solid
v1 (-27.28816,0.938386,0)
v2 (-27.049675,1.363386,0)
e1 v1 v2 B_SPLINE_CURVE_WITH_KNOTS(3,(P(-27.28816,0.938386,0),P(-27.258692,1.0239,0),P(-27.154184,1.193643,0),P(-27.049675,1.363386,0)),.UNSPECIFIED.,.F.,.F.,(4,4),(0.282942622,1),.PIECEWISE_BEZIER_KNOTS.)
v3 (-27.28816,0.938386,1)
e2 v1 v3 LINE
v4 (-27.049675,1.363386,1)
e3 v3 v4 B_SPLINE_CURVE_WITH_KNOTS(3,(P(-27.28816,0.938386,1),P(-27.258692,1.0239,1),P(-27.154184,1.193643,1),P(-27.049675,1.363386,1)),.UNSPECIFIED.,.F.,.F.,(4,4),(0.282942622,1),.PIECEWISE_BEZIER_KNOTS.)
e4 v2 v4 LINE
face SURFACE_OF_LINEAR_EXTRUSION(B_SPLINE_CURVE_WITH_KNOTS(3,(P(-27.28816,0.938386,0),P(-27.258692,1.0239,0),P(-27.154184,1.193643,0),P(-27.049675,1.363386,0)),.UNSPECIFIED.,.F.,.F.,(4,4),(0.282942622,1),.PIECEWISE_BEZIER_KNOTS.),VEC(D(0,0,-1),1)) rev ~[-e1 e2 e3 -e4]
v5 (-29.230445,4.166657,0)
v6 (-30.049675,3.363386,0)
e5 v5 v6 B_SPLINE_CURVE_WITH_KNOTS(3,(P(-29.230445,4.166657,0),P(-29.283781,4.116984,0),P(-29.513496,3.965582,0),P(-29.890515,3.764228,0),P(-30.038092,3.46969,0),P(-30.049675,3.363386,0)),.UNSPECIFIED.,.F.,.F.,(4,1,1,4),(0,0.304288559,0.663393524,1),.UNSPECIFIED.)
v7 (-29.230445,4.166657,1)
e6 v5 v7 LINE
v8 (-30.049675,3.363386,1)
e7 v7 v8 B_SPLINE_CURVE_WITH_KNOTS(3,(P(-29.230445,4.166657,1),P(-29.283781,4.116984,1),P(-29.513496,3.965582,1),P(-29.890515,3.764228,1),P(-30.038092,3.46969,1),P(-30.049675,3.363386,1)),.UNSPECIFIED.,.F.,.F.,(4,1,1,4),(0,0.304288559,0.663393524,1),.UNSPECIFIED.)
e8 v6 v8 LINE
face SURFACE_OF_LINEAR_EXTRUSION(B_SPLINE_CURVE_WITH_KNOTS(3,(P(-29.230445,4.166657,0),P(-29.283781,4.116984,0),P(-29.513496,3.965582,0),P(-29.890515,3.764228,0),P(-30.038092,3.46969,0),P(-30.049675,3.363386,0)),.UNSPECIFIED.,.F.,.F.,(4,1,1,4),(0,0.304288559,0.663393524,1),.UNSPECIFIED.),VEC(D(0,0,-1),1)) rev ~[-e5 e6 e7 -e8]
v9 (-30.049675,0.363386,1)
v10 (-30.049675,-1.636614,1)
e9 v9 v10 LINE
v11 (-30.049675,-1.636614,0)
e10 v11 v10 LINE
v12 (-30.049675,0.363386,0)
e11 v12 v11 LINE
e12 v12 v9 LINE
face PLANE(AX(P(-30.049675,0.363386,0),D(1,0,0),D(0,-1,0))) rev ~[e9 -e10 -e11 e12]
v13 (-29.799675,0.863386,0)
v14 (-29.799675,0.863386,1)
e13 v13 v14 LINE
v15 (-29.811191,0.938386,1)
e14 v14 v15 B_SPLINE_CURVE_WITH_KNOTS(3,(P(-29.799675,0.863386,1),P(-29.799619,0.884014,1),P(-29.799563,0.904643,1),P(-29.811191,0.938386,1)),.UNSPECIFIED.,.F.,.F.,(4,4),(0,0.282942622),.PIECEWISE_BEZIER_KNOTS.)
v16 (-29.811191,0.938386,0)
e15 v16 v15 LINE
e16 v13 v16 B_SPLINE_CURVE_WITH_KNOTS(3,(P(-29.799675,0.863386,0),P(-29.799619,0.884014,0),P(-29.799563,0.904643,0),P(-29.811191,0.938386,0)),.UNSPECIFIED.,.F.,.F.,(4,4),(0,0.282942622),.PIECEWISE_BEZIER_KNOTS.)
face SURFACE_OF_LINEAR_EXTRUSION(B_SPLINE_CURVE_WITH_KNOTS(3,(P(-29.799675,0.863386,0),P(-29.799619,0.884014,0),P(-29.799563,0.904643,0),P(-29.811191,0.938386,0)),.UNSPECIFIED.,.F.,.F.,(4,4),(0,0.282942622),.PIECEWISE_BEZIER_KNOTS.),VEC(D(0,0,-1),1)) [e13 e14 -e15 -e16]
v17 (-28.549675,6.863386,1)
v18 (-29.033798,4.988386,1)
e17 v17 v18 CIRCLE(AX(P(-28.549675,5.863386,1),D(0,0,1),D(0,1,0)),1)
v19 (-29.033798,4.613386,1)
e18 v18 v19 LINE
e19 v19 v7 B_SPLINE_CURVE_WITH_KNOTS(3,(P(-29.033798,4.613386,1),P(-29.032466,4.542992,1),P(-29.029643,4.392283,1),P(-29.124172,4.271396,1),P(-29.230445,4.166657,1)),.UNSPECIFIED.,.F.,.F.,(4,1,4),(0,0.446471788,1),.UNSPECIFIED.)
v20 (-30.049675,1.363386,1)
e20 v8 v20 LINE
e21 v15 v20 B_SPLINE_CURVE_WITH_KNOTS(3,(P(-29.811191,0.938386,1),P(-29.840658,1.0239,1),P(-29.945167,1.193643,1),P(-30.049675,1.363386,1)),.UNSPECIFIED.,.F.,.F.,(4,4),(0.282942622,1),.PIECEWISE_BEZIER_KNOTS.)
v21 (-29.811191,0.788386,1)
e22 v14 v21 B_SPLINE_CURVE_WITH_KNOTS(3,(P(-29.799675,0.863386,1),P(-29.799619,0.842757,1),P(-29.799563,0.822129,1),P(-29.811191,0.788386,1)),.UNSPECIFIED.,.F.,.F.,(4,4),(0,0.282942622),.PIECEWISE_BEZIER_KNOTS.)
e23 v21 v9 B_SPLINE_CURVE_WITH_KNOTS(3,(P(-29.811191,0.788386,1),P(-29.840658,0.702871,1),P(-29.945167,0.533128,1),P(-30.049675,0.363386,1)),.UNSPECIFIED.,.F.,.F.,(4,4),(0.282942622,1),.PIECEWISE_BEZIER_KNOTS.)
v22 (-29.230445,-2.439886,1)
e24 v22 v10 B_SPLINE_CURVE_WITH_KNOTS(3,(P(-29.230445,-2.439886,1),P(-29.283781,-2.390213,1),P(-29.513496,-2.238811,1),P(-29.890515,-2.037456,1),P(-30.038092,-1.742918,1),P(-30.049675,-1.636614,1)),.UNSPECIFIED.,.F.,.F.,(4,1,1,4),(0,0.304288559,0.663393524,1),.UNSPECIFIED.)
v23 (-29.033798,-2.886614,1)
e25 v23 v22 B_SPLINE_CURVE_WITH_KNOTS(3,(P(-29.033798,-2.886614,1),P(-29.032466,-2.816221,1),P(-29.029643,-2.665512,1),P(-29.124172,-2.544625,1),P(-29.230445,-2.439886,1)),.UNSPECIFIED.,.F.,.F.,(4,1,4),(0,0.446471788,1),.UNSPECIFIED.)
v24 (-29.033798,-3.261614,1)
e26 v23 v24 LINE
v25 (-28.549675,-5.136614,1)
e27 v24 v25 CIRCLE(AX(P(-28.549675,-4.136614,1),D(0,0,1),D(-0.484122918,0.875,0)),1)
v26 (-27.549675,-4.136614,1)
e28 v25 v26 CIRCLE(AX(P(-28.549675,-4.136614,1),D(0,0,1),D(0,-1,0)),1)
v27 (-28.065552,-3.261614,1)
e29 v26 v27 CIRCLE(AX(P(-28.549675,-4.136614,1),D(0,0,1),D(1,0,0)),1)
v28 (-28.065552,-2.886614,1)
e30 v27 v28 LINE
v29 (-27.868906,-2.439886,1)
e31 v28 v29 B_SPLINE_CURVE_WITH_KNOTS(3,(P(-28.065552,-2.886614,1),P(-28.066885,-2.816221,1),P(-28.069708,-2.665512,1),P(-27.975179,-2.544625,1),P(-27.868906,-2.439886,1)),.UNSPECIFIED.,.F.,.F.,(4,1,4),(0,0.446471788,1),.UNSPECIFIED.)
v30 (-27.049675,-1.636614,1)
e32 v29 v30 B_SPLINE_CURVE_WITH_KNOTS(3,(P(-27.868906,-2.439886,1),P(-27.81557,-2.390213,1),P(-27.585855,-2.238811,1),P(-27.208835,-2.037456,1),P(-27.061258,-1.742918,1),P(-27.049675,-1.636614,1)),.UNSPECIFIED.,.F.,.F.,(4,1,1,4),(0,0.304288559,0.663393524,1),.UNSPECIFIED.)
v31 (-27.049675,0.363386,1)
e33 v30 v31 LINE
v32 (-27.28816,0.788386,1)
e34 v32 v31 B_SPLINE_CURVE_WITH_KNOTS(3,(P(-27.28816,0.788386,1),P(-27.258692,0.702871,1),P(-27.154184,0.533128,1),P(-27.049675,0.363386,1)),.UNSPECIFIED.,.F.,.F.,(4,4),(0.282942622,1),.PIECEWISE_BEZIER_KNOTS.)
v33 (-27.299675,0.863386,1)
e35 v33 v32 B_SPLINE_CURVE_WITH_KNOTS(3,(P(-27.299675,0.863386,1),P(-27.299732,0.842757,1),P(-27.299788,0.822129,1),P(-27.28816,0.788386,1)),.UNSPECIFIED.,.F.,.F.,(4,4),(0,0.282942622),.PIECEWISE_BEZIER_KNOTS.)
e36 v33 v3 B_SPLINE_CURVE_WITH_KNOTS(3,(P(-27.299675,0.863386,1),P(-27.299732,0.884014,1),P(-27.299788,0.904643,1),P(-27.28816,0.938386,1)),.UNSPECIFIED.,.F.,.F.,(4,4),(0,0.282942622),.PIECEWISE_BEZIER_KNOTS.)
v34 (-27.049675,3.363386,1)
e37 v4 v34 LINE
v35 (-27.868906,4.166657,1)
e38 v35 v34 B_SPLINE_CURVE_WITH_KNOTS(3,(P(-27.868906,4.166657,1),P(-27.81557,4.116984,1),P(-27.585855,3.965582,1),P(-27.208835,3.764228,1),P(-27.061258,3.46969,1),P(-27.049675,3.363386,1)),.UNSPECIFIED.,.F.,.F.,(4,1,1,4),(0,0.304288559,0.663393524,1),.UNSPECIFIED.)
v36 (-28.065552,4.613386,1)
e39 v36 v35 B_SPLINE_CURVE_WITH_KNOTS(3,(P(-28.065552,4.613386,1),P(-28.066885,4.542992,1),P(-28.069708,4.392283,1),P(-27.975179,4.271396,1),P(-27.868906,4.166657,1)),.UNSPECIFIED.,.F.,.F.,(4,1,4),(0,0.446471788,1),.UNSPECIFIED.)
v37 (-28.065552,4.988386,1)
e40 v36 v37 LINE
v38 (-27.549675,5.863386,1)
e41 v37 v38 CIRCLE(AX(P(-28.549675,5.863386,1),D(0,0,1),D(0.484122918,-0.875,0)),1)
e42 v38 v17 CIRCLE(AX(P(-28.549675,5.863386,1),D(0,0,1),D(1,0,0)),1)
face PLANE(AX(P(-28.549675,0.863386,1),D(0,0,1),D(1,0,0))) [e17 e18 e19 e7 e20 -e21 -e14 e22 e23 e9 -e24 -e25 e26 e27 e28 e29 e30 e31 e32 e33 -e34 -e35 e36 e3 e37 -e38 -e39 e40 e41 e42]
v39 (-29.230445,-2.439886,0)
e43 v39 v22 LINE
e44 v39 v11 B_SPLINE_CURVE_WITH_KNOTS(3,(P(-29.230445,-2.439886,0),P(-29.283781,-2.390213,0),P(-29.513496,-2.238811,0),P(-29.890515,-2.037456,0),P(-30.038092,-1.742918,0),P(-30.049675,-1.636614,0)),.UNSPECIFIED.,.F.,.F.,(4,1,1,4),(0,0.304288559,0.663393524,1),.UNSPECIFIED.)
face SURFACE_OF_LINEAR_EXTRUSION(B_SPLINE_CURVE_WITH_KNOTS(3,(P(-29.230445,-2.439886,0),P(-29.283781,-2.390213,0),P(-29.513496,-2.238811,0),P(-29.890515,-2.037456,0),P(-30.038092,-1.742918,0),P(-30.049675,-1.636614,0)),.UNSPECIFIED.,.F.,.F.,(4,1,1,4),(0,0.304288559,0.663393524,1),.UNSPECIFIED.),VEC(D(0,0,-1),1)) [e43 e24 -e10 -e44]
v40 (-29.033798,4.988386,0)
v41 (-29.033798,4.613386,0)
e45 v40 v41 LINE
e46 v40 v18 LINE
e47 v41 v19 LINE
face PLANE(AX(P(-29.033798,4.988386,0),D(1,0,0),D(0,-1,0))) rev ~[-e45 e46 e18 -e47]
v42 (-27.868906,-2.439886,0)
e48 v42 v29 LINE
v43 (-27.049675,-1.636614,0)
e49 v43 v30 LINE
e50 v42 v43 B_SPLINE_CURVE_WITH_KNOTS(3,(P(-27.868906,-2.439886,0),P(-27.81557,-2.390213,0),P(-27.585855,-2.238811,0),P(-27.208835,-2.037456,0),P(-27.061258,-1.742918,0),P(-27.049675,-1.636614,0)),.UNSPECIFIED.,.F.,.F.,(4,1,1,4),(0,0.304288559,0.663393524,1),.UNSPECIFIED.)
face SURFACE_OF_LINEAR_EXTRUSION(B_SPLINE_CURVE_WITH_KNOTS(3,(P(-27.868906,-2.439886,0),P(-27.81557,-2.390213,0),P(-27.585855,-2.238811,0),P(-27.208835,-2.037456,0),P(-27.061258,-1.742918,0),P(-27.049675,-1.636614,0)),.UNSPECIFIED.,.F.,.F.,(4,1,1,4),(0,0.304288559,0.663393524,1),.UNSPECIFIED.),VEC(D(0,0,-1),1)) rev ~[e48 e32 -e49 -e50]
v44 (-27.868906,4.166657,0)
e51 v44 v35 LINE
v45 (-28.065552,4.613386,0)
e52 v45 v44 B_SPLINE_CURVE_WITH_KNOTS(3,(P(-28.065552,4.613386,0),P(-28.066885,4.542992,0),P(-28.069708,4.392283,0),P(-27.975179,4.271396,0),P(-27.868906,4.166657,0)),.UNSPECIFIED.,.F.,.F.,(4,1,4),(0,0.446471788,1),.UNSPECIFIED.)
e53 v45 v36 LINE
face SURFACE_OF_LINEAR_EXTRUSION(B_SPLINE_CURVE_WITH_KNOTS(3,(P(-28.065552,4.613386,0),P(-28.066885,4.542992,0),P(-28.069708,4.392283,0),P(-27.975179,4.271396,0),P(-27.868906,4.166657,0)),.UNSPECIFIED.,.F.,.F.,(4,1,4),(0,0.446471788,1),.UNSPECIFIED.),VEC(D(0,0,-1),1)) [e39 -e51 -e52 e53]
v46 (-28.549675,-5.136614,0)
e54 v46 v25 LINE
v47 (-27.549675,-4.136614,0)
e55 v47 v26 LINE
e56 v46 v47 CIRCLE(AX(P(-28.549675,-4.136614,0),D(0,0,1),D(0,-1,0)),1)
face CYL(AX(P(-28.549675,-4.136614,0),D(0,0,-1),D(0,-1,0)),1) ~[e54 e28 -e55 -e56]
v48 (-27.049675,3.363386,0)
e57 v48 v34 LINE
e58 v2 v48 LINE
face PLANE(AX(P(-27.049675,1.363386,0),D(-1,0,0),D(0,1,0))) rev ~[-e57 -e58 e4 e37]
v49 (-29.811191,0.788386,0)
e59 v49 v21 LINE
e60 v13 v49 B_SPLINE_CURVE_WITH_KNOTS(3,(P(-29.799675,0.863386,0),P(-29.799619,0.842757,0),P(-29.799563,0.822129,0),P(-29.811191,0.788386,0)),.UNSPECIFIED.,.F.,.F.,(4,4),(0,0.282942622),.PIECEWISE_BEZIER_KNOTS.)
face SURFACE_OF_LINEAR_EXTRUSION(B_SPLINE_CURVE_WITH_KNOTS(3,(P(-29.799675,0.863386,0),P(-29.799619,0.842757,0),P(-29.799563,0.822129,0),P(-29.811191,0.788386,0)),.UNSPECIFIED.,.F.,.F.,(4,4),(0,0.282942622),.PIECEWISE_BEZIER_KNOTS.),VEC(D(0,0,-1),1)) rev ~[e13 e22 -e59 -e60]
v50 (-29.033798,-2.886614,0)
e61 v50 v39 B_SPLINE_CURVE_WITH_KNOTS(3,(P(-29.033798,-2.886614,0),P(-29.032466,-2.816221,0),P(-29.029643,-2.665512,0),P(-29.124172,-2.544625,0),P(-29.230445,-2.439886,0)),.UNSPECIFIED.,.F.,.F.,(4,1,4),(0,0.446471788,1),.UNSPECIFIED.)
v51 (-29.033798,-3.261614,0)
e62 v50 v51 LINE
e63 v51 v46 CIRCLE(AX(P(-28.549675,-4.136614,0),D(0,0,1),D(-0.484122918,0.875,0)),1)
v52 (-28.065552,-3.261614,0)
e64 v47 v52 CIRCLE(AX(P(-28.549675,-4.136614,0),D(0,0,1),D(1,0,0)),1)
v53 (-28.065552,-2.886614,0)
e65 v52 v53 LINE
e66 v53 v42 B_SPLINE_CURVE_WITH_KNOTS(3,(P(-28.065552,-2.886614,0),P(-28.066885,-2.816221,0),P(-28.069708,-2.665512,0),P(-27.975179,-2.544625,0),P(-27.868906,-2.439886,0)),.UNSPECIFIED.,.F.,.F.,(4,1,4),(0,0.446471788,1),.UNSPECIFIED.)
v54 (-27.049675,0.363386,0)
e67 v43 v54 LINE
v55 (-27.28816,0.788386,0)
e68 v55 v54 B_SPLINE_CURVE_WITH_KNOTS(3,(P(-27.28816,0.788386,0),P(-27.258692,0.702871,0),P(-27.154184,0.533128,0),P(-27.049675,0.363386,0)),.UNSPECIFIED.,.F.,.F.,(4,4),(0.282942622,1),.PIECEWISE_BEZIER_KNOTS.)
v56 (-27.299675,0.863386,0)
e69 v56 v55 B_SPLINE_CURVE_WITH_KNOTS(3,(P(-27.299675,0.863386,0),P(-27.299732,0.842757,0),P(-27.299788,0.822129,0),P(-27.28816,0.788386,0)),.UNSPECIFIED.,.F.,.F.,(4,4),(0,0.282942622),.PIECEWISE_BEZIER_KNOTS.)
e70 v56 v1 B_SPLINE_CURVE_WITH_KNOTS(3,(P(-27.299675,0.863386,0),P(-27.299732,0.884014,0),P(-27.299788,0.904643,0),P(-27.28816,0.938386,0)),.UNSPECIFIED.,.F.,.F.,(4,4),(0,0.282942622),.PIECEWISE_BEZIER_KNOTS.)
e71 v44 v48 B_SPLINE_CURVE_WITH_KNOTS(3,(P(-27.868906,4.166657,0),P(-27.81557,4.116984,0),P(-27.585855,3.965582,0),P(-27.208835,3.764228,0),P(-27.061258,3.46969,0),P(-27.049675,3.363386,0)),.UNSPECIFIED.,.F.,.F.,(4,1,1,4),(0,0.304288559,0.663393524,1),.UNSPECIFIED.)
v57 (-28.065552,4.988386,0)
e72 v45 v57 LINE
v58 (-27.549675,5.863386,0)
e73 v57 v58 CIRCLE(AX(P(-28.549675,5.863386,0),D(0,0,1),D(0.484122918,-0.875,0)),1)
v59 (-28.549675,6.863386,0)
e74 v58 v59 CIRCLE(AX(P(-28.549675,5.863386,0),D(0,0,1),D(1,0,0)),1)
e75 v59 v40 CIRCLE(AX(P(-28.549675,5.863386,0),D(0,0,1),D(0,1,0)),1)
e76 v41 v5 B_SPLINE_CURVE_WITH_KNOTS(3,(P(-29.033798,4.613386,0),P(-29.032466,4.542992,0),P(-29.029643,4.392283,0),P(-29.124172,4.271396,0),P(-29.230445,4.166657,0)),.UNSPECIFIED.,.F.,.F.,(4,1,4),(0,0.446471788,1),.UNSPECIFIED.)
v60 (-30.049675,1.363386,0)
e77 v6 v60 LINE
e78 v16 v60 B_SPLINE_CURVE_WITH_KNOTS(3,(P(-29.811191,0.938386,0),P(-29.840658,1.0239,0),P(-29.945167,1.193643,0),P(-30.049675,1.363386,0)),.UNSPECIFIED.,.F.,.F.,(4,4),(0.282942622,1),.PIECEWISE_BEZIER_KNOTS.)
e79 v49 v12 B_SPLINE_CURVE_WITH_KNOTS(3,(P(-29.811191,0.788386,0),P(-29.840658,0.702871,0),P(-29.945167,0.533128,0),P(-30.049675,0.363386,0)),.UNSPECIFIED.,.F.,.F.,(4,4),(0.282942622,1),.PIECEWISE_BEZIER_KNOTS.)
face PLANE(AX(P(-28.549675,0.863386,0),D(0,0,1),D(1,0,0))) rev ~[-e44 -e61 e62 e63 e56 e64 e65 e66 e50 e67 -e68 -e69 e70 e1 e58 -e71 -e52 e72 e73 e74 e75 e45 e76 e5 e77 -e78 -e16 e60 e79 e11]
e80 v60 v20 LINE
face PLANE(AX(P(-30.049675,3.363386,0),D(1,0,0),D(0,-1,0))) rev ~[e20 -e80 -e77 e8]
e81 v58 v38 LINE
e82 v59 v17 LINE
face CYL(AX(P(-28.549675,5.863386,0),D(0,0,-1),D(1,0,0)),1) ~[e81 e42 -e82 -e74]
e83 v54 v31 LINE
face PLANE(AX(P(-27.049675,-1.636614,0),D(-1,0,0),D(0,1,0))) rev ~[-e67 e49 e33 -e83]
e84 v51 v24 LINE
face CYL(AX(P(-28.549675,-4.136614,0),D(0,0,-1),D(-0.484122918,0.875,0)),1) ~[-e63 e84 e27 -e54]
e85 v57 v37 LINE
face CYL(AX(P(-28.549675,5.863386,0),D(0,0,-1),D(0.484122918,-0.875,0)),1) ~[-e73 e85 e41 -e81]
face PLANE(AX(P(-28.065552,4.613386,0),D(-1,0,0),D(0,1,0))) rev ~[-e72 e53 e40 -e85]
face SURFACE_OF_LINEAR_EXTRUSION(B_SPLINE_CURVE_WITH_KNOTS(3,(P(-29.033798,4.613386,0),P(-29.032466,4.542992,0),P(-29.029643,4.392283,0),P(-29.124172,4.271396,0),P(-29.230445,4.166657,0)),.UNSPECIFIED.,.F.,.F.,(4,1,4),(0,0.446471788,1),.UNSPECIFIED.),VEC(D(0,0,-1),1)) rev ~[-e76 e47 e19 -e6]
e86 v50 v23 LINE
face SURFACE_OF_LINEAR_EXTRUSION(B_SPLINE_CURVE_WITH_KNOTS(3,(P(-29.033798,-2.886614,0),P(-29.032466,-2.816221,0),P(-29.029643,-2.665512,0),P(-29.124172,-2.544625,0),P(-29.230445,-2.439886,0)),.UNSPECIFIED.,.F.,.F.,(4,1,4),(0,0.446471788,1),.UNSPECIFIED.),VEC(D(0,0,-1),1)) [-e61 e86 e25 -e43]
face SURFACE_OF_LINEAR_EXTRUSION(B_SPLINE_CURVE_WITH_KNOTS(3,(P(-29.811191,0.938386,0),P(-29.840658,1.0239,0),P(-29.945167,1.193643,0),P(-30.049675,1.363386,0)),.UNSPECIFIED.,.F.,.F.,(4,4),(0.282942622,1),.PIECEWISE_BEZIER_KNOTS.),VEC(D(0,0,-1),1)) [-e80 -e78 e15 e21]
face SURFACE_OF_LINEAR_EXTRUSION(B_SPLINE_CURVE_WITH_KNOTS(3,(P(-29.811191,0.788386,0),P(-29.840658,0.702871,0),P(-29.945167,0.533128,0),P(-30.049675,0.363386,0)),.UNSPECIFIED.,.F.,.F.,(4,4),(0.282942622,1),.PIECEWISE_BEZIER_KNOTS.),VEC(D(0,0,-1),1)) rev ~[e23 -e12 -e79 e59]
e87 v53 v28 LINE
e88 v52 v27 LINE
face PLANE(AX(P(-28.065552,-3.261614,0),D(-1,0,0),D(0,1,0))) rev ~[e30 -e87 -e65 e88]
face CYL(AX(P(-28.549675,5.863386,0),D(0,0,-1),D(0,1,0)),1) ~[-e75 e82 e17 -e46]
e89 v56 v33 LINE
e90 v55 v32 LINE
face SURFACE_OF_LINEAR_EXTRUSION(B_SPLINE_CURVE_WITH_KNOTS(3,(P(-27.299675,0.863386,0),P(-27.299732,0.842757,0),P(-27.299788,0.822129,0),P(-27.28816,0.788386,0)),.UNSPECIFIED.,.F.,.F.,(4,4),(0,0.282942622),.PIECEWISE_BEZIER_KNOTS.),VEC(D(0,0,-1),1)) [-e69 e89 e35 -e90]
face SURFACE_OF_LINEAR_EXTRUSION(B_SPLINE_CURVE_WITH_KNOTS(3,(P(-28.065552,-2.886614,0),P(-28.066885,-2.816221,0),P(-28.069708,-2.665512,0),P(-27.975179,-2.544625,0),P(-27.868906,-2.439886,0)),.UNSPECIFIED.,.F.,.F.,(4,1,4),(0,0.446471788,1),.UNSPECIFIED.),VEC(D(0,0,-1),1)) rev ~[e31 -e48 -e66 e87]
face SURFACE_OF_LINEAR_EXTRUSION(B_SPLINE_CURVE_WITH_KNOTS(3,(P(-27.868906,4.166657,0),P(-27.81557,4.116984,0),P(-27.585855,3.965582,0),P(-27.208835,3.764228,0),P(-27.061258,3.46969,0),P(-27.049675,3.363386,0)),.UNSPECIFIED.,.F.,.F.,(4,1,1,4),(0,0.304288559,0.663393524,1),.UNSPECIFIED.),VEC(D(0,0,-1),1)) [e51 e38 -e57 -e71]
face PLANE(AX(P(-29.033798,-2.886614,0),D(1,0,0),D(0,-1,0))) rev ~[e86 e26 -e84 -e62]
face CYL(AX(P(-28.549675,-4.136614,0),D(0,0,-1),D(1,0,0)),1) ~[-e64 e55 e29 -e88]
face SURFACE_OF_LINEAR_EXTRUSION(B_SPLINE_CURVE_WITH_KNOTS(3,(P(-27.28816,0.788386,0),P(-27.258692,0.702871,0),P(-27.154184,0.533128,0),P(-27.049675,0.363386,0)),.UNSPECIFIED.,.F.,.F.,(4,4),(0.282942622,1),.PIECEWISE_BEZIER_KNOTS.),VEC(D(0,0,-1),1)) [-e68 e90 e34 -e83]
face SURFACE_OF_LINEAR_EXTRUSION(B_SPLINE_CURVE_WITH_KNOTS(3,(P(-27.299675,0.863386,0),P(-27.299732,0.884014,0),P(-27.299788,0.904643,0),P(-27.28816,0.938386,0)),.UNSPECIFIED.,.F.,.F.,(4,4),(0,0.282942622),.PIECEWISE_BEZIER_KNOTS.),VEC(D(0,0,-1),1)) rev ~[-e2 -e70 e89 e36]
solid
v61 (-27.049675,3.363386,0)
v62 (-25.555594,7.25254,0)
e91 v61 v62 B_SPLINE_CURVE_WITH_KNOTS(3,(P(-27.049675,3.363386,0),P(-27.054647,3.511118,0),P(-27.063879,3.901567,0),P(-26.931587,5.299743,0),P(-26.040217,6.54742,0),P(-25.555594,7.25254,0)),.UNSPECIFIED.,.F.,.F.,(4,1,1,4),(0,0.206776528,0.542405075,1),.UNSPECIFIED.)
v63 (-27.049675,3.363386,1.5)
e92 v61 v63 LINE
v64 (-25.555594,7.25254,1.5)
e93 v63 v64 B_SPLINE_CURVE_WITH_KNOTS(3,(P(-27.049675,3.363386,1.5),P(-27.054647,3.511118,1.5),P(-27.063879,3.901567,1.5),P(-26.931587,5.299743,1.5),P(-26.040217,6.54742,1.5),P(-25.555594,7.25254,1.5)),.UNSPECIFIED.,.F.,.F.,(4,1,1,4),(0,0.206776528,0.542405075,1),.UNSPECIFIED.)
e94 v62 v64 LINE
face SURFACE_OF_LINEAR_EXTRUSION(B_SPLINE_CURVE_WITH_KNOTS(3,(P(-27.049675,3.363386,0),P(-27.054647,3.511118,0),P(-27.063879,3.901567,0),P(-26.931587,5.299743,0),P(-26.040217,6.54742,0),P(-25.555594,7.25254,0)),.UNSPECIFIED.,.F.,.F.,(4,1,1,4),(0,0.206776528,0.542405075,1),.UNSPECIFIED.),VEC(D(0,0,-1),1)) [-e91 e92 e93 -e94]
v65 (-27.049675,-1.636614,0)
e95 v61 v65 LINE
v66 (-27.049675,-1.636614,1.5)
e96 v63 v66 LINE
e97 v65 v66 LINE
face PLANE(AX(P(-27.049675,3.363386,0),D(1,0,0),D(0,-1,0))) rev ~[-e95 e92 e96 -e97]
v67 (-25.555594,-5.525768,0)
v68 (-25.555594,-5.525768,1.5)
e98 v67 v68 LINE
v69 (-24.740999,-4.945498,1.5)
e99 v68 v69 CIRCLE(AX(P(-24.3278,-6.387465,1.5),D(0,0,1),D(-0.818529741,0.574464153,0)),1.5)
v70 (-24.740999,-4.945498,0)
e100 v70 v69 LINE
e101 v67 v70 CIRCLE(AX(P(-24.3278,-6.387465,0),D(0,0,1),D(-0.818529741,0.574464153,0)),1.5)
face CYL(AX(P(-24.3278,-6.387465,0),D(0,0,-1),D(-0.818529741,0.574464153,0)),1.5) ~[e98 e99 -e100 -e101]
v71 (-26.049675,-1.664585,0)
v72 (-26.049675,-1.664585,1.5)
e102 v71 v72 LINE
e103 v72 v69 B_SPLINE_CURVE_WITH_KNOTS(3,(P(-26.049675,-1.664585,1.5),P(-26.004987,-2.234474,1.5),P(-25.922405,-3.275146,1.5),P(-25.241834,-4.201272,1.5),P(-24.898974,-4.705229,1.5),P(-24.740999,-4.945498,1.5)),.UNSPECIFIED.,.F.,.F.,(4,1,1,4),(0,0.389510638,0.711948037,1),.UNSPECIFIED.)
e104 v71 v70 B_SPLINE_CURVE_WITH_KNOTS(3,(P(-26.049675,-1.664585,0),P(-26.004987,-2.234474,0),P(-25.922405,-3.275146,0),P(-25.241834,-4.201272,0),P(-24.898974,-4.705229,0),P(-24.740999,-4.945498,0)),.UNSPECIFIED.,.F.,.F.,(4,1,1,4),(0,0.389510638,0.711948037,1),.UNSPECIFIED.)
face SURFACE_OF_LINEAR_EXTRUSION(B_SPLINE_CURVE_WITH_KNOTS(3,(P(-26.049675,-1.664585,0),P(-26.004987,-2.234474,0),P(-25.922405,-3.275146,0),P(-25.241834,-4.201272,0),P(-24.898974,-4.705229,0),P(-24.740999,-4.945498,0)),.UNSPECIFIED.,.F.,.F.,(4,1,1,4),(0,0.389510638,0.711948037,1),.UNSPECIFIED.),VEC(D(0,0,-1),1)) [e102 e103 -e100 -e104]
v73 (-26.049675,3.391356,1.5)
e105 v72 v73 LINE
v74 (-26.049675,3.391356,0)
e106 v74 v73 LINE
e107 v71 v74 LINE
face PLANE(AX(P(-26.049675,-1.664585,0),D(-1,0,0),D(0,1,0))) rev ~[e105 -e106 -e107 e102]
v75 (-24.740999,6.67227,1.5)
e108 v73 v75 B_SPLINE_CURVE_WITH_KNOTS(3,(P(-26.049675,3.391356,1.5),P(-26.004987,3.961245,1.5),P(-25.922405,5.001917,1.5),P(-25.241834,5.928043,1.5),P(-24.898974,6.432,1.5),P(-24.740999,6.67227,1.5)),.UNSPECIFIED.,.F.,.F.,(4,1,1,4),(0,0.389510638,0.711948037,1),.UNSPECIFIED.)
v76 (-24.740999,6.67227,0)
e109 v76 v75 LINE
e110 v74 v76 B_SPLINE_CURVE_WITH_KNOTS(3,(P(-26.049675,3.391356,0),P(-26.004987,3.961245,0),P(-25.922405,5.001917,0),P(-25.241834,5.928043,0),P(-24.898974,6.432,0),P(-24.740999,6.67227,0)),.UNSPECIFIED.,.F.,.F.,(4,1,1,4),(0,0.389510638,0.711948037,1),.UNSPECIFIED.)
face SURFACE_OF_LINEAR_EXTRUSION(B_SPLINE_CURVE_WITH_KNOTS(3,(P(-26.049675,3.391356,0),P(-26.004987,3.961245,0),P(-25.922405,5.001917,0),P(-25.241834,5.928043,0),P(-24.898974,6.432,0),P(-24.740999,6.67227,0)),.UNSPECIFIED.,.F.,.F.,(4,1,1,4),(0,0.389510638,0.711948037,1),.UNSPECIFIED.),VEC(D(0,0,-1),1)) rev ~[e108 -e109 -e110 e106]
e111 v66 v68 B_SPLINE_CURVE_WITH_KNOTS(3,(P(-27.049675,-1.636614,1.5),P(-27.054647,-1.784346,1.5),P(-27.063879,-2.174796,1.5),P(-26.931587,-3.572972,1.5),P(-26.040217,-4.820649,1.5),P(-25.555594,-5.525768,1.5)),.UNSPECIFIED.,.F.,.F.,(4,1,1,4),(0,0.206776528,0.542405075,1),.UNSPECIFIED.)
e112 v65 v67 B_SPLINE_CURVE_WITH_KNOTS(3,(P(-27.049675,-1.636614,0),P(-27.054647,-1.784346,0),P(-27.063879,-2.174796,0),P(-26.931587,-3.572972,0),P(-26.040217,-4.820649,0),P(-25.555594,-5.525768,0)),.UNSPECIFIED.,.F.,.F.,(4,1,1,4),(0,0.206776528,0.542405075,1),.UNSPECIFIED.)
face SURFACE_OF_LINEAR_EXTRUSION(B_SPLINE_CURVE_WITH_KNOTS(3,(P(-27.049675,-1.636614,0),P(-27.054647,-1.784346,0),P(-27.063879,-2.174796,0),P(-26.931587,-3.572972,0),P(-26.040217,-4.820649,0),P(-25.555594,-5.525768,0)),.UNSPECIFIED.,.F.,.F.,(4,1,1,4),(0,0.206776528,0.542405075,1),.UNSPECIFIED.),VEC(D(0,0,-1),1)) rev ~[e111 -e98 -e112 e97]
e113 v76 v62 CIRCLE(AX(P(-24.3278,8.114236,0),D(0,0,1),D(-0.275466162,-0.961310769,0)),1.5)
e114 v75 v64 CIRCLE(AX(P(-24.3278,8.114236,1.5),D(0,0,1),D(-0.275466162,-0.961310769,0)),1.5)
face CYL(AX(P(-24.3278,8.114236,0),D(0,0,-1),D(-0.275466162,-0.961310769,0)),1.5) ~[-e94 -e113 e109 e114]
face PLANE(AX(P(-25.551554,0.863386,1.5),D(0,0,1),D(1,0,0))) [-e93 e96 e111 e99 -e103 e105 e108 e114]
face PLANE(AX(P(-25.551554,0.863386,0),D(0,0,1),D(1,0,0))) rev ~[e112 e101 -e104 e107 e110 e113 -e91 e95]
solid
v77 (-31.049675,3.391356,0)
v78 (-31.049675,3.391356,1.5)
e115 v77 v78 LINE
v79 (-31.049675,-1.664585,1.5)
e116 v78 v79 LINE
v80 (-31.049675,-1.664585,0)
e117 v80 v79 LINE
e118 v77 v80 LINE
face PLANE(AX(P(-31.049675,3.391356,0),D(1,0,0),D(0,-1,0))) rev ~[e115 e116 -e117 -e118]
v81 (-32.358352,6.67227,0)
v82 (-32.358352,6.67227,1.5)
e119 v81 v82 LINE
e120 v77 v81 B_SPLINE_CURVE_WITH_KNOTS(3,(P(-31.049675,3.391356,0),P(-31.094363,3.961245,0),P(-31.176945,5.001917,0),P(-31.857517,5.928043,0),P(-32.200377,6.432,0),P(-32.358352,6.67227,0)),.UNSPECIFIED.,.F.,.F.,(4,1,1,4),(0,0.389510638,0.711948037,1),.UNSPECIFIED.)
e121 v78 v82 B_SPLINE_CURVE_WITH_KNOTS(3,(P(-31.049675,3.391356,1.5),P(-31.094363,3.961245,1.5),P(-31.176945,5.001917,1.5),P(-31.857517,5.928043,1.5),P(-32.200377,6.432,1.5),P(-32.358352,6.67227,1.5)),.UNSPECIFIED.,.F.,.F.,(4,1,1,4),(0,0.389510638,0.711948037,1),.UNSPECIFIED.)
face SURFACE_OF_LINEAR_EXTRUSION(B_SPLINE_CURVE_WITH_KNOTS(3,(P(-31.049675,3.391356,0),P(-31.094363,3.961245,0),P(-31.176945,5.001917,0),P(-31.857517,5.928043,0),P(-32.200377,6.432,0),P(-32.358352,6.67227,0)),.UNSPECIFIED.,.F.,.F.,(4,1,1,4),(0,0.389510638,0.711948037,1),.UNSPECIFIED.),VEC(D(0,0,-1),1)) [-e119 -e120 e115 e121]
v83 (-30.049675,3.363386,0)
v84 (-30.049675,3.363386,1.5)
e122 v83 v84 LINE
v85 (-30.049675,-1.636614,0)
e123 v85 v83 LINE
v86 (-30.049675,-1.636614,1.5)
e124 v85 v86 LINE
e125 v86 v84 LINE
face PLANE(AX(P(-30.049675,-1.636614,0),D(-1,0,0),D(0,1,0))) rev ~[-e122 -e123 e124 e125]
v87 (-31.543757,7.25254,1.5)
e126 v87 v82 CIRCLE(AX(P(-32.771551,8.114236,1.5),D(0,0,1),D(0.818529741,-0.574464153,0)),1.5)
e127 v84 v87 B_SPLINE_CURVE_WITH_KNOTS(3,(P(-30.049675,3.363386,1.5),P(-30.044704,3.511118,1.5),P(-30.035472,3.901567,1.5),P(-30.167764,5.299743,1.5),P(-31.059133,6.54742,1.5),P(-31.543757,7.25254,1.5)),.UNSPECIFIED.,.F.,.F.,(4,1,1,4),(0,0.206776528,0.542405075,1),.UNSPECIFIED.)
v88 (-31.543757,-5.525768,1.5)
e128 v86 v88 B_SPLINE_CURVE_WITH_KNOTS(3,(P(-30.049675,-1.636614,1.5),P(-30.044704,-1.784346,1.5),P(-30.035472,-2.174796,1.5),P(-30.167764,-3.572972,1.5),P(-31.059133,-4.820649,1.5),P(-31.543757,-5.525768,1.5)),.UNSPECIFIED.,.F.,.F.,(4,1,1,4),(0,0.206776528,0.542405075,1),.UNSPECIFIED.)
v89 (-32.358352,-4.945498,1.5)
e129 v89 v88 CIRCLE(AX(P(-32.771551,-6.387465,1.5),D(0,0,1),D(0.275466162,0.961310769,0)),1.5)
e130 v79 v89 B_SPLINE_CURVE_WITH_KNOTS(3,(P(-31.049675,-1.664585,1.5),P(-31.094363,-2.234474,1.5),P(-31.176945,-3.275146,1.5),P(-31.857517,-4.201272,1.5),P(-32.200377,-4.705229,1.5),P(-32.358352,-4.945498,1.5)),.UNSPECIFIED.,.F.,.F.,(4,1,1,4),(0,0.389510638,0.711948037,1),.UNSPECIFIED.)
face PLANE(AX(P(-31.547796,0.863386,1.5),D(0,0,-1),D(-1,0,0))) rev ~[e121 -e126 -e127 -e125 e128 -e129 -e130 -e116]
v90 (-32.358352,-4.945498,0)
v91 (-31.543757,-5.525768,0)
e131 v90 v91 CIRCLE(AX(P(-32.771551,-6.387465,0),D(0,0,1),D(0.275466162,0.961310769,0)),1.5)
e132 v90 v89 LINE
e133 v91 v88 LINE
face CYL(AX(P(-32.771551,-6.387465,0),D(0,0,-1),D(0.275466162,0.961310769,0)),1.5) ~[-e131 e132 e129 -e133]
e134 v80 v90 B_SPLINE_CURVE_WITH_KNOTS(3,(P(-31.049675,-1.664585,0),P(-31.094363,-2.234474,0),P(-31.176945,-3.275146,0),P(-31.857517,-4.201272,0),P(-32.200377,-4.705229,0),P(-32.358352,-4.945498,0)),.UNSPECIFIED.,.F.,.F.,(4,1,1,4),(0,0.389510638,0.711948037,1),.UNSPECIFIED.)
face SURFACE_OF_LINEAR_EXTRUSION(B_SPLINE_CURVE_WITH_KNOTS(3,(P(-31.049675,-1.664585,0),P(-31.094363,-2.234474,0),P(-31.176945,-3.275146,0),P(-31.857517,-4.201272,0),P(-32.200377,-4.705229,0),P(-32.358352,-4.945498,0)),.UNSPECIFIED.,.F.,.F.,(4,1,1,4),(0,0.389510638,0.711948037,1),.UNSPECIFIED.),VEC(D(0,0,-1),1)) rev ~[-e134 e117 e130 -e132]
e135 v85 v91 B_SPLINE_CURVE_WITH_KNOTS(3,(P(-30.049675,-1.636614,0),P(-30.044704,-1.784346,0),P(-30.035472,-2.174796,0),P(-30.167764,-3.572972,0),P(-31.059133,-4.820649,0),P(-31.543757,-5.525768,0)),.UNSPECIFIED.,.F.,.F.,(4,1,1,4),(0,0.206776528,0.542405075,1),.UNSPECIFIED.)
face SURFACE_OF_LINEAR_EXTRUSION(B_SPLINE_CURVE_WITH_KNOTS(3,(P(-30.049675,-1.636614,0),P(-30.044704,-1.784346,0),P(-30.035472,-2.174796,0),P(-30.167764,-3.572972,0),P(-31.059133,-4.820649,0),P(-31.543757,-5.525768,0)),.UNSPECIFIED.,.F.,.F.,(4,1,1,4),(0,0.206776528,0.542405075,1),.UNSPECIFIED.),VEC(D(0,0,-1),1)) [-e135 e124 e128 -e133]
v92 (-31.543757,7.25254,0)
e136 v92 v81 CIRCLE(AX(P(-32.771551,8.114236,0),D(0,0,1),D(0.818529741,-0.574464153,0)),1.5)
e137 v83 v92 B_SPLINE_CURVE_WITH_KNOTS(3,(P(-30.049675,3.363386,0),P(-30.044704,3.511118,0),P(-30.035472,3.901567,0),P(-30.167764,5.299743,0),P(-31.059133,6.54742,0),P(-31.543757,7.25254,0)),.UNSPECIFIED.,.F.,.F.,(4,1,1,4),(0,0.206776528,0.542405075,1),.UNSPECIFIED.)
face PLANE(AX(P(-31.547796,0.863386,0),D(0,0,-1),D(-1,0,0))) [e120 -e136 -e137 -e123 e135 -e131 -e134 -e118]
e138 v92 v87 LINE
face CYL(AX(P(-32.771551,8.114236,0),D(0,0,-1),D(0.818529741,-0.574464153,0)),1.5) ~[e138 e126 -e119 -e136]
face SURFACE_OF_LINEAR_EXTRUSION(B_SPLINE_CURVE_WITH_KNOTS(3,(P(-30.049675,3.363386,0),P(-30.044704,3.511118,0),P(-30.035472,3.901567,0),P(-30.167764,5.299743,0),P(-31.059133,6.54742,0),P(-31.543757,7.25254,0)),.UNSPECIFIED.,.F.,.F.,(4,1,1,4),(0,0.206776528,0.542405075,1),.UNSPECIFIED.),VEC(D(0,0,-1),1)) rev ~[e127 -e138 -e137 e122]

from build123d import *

# Parameters (mm, degrees)
F1_DEPTH = 1.5
F2_DEPTH = 1.5
F3_DEPTH = 1


with BuildPart() as f1:
    # F0 (on Top) → F1 (new body)
    with BuildSketch(Plane.XY):
        with BuildLine():
            add(Edge.make_bspline(
                [(-30.0496753657, -1.6366143987), (-30.0447041216, -1.7843464579), (-30.0354722057, -2.1747955176), (-30.1677635937, -3.5729716552), (-31.0591334265, -4.8206491721), (-31.5437565653, -5.5257683036)],
                knots=[0, 0, 0, 0, 0.2067765284, 0.5424050749, 1, 1, 1, 1], degree=3))
            Line((-30.0496753657, -1.6366143987), (-30.0496753657, 0.3633856013))
            Line((-30.0496753657, 0.3633856013), (-30.0496753657, 0.8633856013))
            Line((-30.0496753657, 0.8633856013), (-30.0496753657, 1.3633856013))
            Line((-30.0496753657, 1.3633856013), (-30.0496753657, 3.3633856013))
            add(Edge.make_bspline(
                [(-30.0496753657, 3.3633856013), (-30.0447041216, 3.5111176605), (-30.0354722057, 3.9015667201), (-30.1677635937, 5.2997428578), (-31.0591334265, 6.5474203747), (-31.5437565653, 7.2525395061)],
                knots=[0, 0, 0, 0, 0.2067765284, 0.5424050749, 1, 1, 1, 1], degree=3))
            ThreePointArc((-31.5437565653, 7.2525395061), (-33.6418347537, 9.3359584926), (-32.358351935, 6.672269582))
            add(Edge.make_bspline(
                [(-31.0496753657, 3.3913564036), (-31.0943634617, 3.9612452912), (-31.1769454956, 5.0019170089), (-31.8575168826, 5.9280431025), (-32.2003766787, 6.4320003208), (-32.358351935, 6.672269582)],
                knots=[0, 0, 0, 0, 0.3895106376, 0.7119480371, 1, 1, 1, 1], degree=3))
            Line((-31.0496753657, 3.3913564036), (-31.0496753657, 0.8633856013))
            Line((-31.0496753657, 0.8633856013), (-31.0496753657, -1.6645852011))
            add(Edge.make_bspline(
                [(-31.0496753657, -1.6645852011), (-31.0943634617, -2.2344740887), (-31.1769454956, -3.2751458064), (-31.8575168826, -4.2012719), (-32.2003766787, -4.7052291183), (-32.358351935, -4.9454983795)],
                knots=[0, 0, 0, 0, 0.3895106376, 0.7119480371, 1, 1, 1, 1], degree=3))
            ThreePointArc((-32.358351935, -4.9454983795), (-33.6418347537, -7.60918729), (-31.5437565653, -5.5257683036))
        make_face()
    extrude(amount=F1_DEPTH)


with BuildPart() as f2:
    # F0 (on Top) → F2 (new body)
    with BuildSketch(Plane.XY):
        with BuildLine():
            Line((-27.0496753657, 1.3633856013), (-27.0496753657, 0.8633856013))
            Line((-27.0496753657, 0.8633856013), (-27.0496753657, 0.3633856013))
            Line((-27.0496753657, 0.3633856013), (-27.0496753657, -1.6366143987))
            add(Edge.make_bspline(
                [(-27.0496753657, -1.6366143987), (-27.0546466099, -1.7843464579), (-27.0638785258, -2.1747955176), (-26.9315871377, -3.5729716552), (-26.040217305, -4.8206491721), (-25.5555941662, -5.5257683036)],
                knots=[0, 0, 0, 0, 0.2067765284, 0.5424050749, 1, 1, 1, 1], degree=3))
            ThreePointArc((-25.5555941662, -5.5257683036), (-23.4575159777, -7.60918729), (-24.7409987965, -4.9454983795))
            add(Edge.make_bspline(
                [(-26.0496753657, -1.6645852011), (-26.0049872698, -2.2344740887), (-25.9224052359, -3.2751458064), (-25.2418338489, -4.2012719), (-24.8989740528, -4.7052291183), (-24.7409987965, -4.9454983795)],
                knots=[0, 0, 0, 0, 0.3895106376, 0.7119480371, 1, 1, 1, 1], degree=3))
            Line((-26.0496753657, -1.6645852011), (-26.0496753657, 0.8633856013))
            Line((-26.0496753657, 0.8633856013), (-26.0496753657, 3.3913564036))
            add(Edge.make_bspline(
                [(-26.0496753657, 3.3913564036), (-26.0049872698, 3.9612452912), (-25.9224052359, 5.0019170089), (-25.2418338489, 5.9280431025), (-24.8989740528, 6.4320003208), (-24.7409987965, 6.672269582)],
                knots=[0, 0, 0, 0, 0.3895106376, 0.7119480371, 1, 1, 1, 1], degree=3))
            ThreePointArc((-24.7409987965, 6.672269582), (-23.4575159777, 9.3359584926), (-25.5555941662, 7.2525395061))
            add(Edge.make_bspline(
                [(-27.0496753657, 3.3633856013), (-27.0546466099, 3.5111176605), (-27.0638785258, 3.9015667201), (-26.9315871377, 5.2997428578), (-26.040217305, 6.5474203747), (-25.5555941662, 7.2525395061)],
                knots=[0, 0, 0, 0, 0.2067765284, 0.5424050749, 1, 1, 1, 1], degree=3))
            Line((-27.0496753657, 3.3633856013), (-27.0496753657, 1.3633856013))
        make_face()
    extrude(amount=F2_DEPTH)


with BuildPart() as f3:
    # F0 (on Top) → F3 (new body)
    with BuildSketch(Plane.XY):
        with BuildLine():
            Line((-27.0496753657, -1.6366143987), (-27.0496753657, 0.3633856013))
            add(Edge.make_bspline(
                [(-27.2881601661, 0.7883856013), (-27.258692413, 0.7028713607), (-27.1541838894, 0.533128481), (-27.0496753657, 0.3633856013)],
                knots=[0.2829426223, 0.2829426223, 0.2829426223, 0.2829426223, 1, 1, 1, 1], degree=3))
            add(Edge.make_bspline(
                [(-27.2996753657, 0.8633856013), (-27.2997315847, 0.8427570708), (-27.2997878037, 0.8221285404), (-27.2881601661, 0.7883856013)],
                knots=[0, 0, 0, 0, 0.2829426223, 0.2829426223, 0.2829426223, 0.2829426223], degree=3))
            add(Edge.make_bspline(
                [(-27.2996753657, 0.8633856013), (-27.2997315847, 0.8840141317), (-27.2997878037, 0.9046426621), (-27.2881601661, 0.9383856013)],
                knots=[0, 0, 0, 0, 0.2829426223, 0.2829426223, 0.2829426223, 0.2829426223], degree=3))
            add(Edge.make_bspline(
                [(-27.2881601661, 0.9383856013), (-27.258692413, 1.0238998418), (-27.1541838894, 1.1936427216), (-27.0496753657, 1.3633856013)],
                knots=[0.2829426223, 0.2829426223, 0.2829426223, 0.2829426223, 1, 1, 1, 1], degree=3))
            Line((-27.0496753657, 1.3633856013), (-27.0496753657, 3.3633856013))
            add(Edge.make_bspline(
                [(-27.8689055473, 4.1666570684), (-27.8155701958, 4.1169842068), (-27.5858548192, 3.9655823837), (-27.2088354742, 3.7642275563), (-27.0612582834, 3.469689666), (-27.0496753657, 3.3633856013)],
                knots=[0, 0, 0, 0, 0.3042885587, 0.663393524, 1, 1, 1, 1], degree=3))
            add(Edge.make_bspline(
                [(-28.0655524475, 4.6133856013), (-28.0668851606, 4.542992142), (-28.0697081163, 4.3922834039), (-27.9751788737, 4.2713964572), (-27.8689055473, 4.1666570684)],
                knots=[0, 0, 0, 0, 0.4464717881, 1, 1, 1, 1], degree=3))
            Line((-28.0655524475, 4.6133856013), (-28.0655524475, 4.9883856013))
            ThreePointArc((-28.0655524475, 4.9883856013), (-28.5496753657, 4.8633856013), (-29.033798284, 4.9883856013))
            Line((-29.033798284, 4.9883856013), (-29.033798284, 4.6133856013))
            add(Edge.make_bspline(
                [(-29.033798284, 4.6133856013), (-29.0324655709, 4.542992142), (-29.0296426152, 4.3922834039), (-29.1241718577, 4.2713964572), (-29.2304451842, 4.1666570684)],
                knots=[0, 0, 0, 0, 0.4464717881, 1, 1, 1, 1], degree=3))
            add(Edge.make_bspline(
                [(-29.2304451842, 4.1666570684), (-29.2837805357, 4.1169842068), (-29.5134959123, 3.9655823837), (-29.8905152573, 3.7642275563), (-30.0380924481, 3.469689666), (-30.0496753657, 3.3633856013)],
                knots=[0, 0, 0, 0, 0.3042885587, 0.663393524, 1, 1, 1, 1], degree=3))
            Line((-30.0496753657, 3.3633856013), (-30.0496753657, 1.3633856013))
            add(Edge.make_bspline(
                [(-29.8111905654, 0.9383856013), (-29.8406583184, 1.0238998418), (-29.9451668421, 1.1936427216), (-30.0496753657, 1.3633856013)],
                knots=[0.2829426223, 0.2829426223, 0.2829426223, 0.2829426223, 1, 1, 1, 1], degree=3))
            add(Edge.make_bspline(
                [(-29.7996753657, 0.8633856013), (-29.7996191468, 0.8840141317), (-29.7995629278, 0.9046426621), (-29.8111905654, 0.9383856013)],
                knots=[0, 0, 0, 0, 0.2829426223, 0.2829426223, 0.2829426223, 0.2829426223], degree=3))
            add(Edge.make_bspline(
                [(-29.7996753657, 0.8633856013), (-29.7996191468, 0.8427570708), (-29.7995629278, 0.8221285404), (-29.8111905654, 0.7883856013)],
                knots=[0, 0, 0, 0, 0.2829426223, 0.2829426223, 0.2829426223, 0.2829426223], degree=3))
            add(Edge.make_bspline(
                [(-29.8111905654, 0.7883856013), (-29.8406583184, 0.7028713607), (-29.9451668421, 0.533128481), (-30.0496753657, 0.3633856013)],
                knots=[0.2829426223, 0.2829426223, 0.2829426223, 0.2829426223, 1, 1, 1, 1], degree=3))
            Line((-30.0496753657, 0.3633856013), (-30.0496753657, -1.6366143987))
            add(Edge.make_bspline(
                [(-29.2304451842, -2.4398858659), (-29.2837805357, -2.3902130043), (-29.5134959123, -2.2388111812), (-29.8905152573, -2.0374563537), (-30.0380924481, -1.7429184635), (-30.0496753657, -1.6366143987)],
                knots=[0, 0, 0, 0, 0.3042885587, 0.663393524, 1, 1, 1, 1], degree=3))
            add(Edge.make_bspline(
                [(-29.033798284, -2.8866143987), (-29.0324655709, -2.8162209395), (-29.0296426152, -2.6655122014), (-29.1241718577, -2.5446252546), (-29.2304451842, -2.4398858659)],
                knots=[0, 0, 0, 0, 0.4464717881, 1, 1, 1, 1], degree=3))
            Line((-29.033798284, -2.8866143987), (-29.033798284, -3.2616143987))
            ThreePointArc((-29.033798284, -3.2616143987), (-28.5496753657, -3.1366143987), (-28.0655524475, -3.2616143987))
            Line((-28.0655524475, -3.2616143987), (-28.0655524475, -2.8866143987))
            add(Edge.make_bspline(
                [(-28.0655524475, -2.8866143987), (-28.0668851606, -2.8162209395), (-28.0697081163, -2.6655122014), (-27.9751788737, -2.5446252546), (-27.8689055473, -2.4398858659)],
                knots=[0, 0, 0, 0, 0.4464717881, 1, 1, 1, 1], degree=3))
            add(Edge.make_bspline(
                [(-27.8689055473, -2.4398858659), (-27.8155701958, -2.3902130043), (-27.5858548192, -2.2388111812), (-27.2088354742, -2.0374563537), (-27.0612582834, -1.7429184635), (-27.0496753657, -1.6366143987)],
                knots=[0, 0, 0, 0, 0.3042885587, 0.663393524, 1, 1, 1, 1], degree=3))
        make_face()
        with BuildLine():
            ThreePointArc((-29.033798284, 4.9883856013), (-28.5496753657, 4.8633856013), (-28.0655524475, 4.9883856013))
            ThreePointArc((-28.0655524475, 4.9883856013), (-27.6882454736, 5.3555090997), (-27.5496753657, 5.8633856013))
            ThreePointArc((-27.5496753657, 5.8633856013), (-27.8425685845, 6.5704923824), (-28.5496753657, 6.8633856013))
            ThreePointArc((-28.5496753657, 6.8633856013), (-29.5179212023, 6.1133856013), (-29.033798284, 4.9883856013))
        make_face()
        with BuildLine():
            ThreePointArc((-27.5496753657, -4.1366143987), (-27.6882454736, -3.6287378972), (-28.0655524475, -3.2616143987))
            ThreePointArc((-28.0655524475, -3.2616143987), (-28.5496753657, -3.1366143987), (-29.033798284, -3.2616143987))
            ThreePointArc((-29.033798284, -3.2616143987), (-29.5179212023, -4.3866143987), (-28.5496753657, -5.1366143987))
            ThreePointArc((-28.5496753657, -5.1366143987), (-27.8425685845, -4.8437211799), (-27.5496753657, -4.1366143987))
        make_face()
    extrude(amount=F3_DEPTH)


solid = Compound([f1.part, f2.part, f3.part])
